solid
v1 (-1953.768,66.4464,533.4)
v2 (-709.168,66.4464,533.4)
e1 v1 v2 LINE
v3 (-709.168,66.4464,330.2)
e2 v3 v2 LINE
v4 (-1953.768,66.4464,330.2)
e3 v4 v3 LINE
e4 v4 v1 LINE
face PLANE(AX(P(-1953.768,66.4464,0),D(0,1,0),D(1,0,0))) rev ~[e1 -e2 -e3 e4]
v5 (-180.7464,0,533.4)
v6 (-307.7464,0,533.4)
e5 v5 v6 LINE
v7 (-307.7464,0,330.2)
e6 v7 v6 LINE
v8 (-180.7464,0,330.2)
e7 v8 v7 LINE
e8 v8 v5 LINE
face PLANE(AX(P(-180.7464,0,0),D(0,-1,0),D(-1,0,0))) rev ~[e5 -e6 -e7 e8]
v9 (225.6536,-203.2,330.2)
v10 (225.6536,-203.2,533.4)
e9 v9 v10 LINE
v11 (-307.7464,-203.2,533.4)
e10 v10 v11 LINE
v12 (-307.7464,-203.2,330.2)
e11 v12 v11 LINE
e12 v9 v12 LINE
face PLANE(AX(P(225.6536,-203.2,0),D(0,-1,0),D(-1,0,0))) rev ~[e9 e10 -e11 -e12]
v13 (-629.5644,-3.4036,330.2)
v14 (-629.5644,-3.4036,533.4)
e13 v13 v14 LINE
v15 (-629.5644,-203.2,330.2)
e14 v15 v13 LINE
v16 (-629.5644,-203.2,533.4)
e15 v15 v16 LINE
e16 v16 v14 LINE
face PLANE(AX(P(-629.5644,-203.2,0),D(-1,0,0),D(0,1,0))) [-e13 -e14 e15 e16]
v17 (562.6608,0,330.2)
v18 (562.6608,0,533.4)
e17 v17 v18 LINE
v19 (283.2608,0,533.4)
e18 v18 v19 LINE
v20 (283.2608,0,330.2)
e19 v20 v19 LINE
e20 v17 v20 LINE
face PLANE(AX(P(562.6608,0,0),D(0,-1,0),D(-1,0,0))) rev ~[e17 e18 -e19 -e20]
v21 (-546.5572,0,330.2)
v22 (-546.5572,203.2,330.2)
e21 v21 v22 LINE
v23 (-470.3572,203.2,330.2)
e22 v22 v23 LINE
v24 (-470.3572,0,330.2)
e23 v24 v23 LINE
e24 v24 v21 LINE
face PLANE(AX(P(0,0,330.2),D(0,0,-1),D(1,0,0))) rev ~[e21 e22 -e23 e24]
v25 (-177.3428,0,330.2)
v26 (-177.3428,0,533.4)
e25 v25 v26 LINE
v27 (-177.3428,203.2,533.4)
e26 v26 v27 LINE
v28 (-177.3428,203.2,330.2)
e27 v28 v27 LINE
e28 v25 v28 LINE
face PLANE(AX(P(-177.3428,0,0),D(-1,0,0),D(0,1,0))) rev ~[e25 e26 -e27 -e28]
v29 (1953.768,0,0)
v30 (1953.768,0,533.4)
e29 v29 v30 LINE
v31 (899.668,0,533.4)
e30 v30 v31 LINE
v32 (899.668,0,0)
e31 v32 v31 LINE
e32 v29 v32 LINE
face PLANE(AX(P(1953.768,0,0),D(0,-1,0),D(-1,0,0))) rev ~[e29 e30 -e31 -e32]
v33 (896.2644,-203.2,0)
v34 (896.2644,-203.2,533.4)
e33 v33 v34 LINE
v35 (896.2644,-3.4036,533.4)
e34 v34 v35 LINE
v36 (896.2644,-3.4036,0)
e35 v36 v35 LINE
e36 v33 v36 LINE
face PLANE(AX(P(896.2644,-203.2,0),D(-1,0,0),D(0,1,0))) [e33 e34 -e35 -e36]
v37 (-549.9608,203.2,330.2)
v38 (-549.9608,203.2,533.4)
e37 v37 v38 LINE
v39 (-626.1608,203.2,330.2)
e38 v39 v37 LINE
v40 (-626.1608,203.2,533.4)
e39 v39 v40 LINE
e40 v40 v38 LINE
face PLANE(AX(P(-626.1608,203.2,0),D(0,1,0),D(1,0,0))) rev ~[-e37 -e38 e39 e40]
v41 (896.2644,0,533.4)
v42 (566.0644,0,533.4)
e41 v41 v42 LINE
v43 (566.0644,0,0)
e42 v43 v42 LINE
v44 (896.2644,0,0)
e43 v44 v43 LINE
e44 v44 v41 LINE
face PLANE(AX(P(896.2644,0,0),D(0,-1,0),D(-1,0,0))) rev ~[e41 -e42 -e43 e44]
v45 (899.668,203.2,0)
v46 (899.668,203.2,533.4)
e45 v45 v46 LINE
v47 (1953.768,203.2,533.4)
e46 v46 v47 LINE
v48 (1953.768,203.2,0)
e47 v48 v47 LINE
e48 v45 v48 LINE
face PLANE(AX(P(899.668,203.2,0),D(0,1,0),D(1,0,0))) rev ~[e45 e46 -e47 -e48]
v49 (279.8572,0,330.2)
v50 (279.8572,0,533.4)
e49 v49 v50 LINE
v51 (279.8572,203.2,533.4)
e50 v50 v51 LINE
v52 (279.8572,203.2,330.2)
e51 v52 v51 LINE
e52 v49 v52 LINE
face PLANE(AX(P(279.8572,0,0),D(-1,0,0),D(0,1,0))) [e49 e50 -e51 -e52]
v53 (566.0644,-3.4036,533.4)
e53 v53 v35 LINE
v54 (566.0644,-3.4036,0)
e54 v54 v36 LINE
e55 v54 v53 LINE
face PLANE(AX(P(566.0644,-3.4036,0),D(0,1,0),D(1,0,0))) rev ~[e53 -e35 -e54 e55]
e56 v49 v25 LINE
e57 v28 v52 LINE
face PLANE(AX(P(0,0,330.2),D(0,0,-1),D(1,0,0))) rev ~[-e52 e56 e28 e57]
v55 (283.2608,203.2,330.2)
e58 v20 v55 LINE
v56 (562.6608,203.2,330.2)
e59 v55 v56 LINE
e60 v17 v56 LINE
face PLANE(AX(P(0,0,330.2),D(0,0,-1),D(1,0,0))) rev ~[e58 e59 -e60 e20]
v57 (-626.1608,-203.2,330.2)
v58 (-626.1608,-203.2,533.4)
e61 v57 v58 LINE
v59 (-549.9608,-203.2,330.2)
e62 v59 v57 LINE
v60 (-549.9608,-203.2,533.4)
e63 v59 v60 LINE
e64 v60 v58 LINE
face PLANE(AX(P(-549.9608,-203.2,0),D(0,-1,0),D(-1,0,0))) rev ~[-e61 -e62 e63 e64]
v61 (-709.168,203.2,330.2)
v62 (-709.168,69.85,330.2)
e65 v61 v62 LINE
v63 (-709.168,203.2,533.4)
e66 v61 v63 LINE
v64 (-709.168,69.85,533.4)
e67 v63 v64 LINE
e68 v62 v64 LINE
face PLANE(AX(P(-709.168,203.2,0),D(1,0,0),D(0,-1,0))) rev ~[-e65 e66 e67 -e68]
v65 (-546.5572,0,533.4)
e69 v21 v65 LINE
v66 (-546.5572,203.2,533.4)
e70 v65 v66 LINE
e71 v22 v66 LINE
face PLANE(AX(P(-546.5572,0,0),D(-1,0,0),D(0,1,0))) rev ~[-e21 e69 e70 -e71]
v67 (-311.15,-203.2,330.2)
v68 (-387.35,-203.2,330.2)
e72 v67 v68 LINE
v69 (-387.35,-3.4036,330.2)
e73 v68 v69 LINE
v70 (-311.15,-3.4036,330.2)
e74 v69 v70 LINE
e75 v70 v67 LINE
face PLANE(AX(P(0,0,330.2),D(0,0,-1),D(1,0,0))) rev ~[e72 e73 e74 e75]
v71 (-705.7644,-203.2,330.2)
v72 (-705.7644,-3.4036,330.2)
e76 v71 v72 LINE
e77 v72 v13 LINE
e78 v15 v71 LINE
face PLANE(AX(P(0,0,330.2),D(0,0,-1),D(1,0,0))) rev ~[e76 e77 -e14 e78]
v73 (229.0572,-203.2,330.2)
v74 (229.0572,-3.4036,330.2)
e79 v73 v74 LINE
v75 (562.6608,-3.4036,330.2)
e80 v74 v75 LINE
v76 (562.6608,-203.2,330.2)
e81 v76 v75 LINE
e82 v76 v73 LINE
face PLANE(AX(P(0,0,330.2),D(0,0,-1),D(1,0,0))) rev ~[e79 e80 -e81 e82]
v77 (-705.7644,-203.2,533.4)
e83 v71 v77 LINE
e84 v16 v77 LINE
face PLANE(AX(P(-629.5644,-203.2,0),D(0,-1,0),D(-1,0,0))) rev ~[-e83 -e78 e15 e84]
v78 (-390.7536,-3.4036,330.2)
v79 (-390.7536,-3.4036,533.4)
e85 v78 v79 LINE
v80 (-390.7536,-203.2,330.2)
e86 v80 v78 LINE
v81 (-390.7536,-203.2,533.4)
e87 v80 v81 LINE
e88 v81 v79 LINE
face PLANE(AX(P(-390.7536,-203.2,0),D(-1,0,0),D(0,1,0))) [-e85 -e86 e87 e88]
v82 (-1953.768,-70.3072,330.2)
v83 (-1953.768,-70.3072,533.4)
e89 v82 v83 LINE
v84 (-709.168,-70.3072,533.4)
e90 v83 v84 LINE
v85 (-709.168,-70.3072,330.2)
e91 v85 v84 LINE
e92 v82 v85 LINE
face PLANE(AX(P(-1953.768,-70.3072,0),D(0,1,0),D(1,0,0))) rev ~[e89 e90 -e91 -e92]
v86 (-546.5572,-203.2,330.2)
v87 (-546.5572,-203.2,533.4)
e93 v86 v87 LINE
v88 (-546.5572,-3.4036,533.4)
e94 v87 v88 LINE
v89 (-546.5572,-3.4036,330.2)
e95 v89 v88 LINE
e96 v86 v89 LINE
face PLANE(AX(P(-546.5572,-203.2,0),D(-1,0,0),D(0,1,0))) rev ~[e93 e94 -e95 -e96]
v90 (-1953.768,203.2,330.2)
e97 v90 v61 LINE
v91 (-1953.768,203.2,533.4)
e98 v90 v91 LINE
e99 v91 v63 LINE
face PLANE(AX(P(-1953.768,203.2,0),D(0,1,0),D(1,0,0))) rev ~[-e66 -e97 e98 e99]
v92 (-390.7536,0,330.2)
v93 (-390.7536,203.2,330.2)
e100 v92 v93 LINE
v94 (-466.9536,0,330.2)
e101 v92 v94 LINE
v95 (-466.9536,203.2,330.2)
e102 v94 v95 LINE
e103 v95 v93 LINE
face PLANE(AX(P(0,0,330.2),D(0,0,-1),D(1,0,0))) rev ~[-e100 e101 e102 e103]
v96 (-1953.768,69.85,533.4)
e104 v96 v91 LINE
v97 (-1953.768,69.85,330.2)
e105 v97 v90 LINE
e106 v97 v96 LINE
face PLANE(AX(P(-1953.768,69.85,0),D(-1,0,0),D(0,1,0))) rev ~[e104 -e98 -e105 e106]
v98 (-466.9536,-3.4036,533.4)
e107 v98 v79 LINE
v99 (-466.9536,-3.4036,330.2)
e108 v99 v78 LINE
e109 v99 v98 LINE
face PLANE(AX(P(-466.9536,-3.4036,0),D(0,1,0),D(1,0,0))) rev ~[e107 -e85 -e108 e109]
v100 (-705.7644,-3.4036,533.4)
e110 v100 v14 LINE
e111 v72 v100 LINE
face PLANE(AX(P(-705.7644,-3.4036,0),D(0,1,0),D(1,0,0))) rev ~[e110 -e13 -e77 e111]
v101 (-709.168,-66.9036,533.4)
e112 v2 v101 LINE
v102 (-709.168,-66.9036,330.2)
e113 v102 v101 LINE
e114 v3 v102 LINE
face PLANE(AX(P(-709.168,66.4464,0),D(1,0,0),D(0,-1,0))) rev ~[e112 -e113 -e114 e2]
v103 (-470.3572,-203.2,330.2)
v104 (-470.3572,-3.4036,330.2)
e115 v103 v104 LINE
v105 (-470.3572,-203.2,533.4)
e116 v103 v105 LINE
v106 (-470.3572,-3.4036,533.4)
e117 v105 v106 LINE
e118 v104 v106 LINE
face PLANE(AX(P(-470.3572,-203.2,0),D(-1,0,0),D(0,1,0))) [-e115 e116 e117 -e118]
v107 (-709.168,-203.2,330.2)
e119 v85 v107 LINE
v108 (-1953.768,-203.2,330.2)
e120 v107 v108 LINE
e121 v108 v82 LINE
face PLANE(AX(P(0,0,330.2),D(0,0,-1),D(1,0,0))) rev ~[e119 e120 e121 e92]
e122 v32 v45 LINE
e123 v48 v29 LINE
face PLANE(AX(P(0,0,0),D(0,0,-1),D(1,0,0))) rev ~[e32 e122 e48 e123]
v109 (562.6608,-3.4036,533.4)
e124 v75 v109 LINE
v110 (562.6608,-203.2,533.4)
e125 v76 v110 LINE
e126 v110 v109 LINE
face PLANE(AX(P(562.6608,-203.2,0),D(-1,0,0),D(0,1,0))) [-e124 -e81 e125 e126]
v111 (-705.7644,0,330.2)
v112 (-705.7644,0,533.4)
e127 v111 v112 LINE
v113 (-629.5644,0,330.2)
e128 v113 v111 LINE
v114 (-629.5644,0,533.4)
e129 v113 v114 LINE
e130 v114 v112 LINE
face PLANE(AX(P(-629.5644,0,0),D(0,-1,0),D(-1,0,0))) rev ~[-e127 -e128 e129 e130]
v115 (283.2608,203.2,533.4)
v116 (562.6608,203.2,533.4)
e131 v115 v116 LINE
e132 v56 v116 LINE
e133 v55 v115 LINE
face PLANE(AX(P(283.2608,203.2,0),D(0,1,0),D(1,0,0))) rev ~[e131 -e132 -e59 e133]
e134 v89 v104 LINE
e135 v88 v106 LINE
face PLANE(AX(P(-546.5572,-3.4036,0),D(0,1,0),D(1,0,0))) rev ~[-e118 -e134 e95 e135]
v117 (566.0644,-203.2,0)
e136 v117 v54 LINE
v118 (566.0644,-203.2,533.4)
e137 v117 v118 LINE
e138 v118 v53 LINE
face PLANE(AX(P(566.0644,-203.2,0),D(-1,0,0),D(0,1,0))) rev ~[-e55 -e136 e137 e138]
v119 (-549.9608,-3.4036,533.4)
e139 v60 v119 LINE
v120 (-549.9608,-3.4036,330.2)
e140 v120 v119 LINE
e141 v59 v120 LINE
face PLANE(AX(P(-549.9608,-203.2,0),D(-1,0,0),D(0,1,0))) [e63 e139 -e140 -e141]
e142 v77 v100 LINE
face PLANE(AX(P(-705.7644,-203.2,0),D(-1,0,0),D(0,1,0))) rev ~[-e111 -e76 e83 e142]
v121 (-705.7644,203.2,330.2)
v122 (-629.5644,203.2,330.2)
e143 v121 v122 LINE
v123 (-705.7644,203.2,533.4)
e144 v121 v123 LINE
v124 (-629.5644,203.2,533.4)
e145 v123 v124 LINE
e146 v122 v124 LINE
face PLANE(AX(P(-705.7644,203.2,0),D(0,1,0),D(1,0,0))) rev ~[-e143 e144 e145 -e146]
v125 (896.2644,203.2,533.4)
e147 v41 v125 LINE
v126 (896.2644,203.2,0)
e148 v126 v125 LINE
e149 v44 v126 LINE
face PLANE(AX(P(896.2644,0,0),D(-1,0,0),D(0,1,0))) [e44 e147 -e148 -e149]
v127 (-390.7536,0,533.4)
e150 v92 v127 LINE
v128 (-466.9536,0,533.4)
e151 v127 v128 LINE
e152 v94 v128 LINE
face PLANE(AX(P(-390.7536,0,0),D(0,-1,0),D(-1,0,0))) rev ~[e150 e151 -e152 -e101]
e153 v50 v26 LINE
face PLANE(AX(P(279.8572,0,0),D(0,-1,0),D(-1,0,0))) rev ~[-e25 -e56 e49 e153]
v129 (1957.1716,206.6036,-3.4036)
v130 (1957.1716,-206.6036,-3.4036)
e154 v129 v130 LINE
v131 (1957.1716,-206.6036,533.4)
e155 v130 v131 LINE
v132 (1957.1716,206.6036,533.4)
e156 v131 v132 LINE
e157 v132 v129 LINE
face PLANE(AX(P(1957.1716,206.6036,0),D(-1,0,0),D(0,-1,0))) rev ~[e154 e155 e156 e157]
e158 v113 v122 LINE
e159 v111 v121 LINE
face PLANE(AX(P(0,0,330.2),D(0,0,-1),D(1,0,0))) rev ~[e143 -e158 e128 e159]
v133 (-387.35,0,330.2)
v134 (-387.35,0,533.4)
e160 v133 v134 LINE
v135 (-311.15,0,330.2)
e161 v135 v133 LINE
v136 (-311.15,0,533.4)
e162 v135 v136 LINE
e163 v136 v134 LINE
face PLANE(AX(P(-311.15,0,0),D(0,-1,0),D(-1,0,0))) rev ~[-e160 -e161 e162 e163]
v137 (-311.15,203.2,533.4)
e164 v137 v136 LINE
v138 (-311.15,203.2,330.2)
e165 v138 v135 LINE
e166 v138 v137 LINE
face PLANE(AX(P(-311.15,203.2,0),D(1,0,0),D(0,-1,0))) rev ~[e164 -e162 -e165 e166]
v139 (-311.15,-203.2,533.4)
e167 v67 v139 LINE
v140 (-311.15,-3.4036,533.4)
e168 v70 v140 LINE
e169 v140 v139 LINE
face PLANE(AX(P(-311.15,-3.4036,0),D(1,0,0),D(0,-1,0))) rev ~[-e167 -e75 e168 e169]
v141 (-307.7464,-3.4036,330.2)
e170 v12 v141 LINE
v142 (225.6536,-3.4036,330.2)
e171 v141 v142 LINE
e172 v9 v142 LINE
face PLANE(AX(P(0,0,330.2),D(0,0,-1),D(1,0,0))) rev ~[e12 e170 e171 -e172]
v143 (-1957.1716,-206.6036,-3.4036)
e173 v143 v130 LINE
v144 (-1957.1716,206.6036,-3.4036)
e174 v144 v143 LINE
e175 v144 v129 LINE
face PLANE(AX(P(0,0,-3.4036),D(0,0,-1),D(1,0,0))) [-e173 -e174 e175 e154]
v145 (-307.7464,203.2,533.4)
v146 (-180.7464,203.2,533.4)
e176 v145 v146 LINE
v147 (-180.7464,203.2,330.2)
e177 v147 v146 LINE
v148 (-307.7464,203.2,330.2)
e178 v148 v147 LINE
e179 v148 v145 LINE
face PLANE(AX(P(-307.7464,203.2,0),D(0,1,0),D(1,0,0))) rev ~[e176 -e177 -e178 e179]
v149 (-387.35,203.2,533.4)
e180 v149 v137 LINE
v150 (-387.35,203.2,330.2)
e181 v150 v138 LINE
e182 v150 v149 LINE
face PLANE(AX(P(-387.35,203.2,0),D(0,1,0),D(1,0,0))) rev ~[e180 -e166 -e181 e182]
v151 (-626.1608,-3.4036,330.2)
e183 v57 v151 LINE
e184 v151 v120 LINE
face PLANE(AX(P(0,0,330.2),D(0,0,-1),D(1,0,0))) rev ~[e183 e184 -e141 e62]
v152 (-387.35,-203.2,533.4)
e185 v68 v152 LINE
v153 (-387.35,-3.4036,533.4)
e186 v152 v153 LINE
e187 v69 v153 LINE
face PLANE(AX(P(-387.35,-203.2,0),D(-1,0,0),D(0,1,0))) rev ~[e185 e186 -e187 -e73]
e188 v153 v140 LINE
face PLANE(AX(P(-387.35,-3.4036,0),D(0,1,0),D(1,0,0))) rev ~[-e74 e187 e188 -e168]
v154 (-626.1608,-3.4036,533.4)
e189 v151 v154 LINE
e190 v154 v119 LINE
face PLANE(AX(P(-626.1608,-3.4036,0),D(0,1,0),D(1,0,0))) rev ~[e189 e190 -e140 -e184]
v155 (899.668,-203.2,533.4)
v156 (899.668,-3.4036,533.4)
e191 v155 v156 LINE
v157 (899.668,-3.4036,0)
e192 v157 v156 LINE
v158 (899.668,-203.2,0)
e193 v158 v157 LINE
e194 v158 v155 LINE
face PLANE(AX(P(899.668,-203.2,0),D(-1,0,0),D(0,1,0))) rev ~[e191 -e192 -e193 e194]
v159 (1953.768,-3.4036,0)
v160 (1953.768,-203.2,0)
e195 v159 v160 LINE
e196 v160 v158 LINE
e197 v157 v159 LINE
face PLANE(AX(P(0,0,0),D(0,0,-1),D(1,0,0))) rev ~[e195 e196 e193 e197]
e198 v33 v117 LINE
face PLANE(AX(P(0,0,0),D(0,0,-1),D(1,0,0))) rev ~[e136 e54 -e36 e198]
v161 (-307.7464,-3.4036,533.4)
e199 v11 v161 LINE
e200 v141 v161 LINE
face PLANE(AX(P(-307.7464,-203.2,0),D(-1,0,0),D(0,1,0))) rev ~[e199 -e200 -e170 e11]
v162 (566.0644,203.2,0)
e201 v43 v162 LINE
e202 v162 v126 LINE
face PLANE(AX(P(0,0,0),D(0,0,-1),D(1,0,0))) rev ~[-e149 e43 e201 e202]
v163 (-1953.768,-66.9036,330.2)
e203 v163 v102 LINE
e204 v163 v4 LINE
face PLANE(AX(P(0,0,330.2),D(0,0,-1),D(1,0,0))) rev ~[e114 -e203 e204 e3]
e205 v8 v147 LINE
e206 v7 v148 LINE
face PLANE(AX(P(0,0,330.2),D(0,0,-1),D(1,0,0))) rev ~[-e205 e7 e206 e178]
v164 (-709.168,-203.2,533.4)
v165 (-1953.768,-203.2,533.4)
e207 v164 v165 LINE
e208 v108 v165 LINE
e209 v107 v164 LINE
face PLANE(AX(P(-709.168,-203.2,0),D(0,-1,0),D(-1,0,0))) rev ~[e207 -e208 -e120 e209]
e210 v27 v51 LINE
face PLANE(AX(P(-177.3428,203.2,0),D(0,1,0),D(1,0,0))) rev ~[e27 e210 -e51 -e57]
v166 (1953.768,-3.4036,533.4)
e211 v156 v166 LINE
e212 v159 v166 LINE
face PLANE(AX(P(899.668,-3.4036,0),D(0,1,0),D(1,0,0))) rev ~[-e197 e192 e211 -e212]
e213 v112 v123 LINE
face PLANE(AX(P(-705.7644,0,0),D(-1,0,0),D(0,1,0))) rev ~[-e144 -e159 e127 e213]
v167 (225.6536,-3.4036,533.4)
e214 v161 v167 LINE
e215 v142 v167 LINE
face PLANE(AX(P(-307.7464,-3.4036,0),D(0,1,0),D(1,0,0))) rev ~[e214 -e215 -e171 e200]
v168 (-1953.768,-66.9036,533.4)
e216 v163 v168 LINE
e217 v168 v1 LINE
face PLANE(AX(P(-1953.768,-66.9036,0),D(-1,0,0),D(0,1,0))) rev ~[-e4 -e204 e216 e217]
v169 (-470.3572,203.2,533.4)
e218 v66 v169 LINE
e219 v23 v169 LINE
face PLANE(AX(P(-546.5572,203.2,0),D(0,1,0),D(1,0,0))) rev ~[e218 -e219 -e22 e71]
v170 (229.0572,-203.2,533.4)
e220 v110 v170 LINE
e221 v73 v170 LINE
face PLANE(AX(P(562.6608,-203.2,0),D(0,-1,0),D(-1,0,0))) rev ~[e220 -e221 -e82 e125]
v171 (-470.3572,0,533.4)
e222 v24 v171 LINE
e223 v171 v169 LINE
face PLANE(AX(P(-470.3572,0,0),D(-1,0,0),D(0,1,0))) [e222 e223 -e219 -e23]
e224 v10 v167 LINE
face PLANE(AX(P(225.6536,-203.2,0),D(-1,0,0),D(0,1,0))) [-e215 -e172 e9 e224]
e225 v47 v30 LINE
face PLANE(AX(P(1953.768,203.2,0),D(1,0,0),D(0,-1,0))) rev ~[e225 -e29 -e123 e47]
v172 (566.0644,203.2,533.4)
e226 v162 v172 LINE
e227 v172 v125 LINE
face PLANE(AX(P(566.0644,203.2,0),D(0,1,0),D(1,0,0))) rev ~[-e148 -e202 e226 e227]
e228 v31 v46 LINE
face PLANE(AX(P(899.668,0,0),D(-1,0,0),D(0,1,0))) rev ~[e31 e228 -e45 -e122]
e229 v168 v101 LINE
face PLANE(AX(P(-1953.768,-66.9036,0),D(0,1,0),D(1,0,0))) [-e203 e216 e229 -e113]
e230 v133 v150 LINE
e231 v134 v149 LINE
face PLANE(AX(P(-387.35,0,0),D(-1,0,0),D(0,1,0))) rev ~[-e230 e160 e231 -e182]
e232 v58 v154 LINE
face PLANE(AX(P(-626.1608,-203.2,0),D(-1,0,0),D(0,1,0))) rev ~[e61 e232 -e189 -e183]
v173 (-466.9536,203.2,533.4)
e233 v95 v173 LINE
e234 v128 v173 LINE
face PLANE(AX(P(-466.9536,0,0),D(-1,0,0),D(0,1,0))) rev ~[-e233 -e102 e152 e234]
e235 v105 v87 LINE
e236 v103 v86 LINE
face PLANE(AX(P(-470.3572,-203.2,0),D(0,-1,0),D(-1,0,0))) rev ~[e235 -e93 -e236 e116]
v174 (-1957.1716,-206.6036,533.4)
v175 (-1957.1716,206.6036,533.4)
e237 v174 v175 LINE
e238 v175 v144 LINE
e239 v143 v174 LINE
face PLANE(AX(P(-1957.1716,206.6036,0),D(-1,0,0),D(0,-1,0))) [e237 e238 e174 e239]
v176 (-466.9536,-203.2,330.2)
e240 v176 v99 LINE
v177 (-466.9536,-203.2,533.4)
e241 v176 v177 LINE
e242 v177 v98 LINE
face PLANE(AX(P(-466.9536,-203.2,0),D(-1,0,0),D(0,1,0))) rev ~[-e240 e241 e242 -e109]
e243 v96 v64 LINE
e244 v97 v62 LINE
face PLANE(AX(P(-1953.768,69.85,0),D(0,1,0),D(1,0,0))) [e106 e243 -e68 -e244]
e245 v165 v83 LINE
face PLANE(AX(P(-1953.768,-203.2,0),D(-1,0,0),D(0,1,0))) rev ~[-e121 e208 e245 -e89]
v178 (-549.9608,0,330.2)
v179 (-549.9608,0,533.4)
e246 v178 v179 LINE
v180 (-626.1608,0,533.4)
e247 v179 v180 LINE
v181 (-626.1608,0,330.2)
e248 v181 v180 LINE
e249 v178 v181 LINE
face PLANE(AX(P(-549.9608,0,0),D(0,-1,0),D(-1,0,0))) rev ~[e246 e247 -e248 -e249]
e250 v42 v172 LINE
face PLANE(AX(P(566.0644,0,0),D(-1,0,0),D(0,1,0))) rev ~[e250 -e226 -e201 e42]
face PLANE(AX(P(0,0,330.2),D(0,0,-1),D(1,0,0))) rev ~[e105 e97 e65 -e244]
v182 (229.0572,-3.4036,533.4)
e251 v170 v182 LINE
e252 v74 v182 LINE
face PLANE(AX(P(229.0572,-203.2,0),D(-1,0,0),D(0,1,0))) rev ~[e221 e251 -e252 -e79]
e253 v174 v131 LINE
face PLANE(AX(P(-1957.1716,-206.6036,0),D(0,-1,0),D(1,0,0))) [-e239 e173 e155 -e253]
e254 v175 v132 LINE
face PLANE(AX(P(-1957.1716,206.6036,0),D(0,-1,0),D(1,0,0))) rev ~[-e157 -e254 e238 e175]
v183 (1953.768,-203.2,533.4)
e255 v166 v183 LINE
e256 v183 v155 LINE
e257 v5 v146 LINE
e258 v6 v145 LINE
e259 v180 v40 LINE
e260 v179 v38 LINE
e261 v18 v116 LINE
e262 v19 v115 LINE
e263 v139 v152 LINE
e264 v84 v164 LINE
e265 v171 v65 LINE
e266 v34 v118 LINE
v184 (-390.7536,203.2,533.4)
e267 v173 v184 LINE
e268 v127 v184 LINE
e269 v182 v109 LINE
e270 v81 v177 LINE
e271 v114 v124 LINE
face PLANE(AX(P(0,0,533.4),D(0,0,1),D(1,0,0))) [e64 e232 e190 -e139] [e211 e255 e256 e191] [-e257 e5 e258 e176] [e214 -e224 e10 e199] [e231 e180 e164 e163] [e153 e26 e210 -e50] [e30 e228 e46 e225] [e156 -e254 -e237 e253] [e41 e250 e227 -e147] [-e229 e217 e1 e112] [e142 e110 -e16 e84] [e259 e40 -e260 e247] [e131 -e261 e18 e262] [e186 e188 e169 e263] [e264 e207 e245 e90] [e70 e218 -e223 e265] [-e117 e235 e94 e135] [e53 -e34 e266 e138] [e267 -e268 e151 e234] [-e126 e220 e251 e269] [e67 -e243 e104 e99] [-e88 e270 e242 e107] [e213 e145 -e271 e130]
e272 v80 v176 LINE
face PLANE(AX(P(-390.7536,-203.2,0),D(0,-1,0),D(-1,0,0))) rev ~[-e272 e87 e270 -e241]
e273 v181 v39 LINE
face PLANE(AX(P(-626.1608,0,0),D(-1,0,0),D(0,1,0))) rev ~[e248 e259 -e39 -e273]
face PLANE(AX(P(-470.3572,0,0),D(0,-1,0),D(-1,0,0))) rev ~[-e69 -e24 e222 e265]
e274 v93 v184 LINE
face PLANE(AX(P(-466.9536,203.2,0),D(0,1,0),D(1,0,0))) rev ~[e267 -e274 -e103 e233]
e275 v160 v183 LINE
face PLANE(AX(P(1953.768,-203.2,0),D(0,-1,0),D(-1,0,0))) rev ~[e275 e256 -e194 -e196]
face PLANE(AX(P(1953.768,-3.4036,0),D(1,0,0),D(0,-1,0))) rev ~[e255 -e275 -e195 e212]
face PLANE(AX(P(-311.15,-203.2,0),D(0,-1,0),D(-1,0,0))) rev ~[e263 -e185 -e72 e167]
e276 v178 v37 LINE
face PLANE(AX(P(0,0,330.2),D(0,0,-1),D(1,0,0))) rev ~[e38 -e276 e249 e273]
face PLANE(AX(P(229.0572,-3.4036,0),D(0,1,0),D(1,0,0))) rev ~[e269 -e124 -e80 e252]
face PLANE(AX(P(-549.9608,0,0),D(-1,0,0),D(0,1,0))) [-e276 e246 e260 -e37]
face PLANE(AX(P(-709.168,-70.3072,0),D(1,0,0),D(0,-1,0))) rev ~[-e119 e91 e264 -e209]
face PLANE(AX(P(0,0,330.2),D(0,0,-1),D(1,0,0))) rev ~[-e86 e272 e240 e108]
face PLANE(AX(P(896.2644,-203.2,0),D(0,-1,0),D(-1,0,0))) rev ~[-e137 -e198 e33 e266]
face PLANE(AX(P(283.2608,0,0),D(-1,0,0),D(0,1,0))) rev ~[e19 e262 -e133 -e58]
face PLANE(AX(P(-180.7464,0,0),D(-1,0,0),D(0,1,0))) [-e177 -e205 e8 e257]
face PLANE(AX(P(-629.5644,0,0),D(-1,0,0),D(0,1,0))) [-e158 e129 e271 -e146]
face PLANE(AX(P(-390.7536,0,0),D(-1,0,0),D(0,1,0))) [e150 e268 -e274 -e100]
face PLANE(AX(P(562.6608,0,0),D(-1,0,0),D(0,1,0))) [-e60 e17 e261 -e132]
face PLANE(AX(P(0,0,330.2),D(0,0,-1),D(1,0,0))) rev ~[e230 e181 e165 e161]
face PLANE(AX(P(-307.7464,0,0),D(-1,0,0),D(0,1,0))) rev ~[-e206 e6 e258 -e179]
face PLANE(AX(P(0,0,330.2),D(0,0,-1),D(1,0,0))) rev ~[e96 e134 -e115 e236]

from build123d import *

# Parameters (mm, degrees)
F0_W     = 3914.3432
F0_H     = 413.2072
F0_W_2   = 1244.6
F0_H_2   = 3.4036
F0_W_3   = 3.4036
F0_H_3   = 203.2
F0_H_4   = 199.7964
F1_DEPTH = 533.4
F2_W     = 3914.3432
F2_H     = 413.2072
F3_DEPTH = 3.4036
F4_DEPTH = 330.2


with BuildPart() as f1:
    # F0 (on Top) → F1 (new body)
    with BuildSketch(Plane.XY):
        Rectangle(F0_W, F0_H)
        Polygon((-1953.768, 69.85), (-1953.768, 203.2), (-709.168, 203.2), (-705.7644, 203.2), (-629.5644, 203.2), (-626.1608, 203.2), (-549.9608, 203.2), (-546.5572, 203.2), (-470.3572, 203.2), (-466.9536, 203.2), (-390.7536, 203.2), (-387.35, 203.2), (-311.15, 203.2), (-307.7464, 203.2), (-180.7464, 203.2), (-177.3428, 203.2), (279.8572, 203.2), (283.2608, 203.2), (562.6608, 203.2), (566.0644, 203.2), (896.2644, 203.2), (899.668, 203.2), (1953.768, 203.2), (1953.768, 0), (1953.768, -3.4036), (1953.768, -203.2), (899.668, -203.2), (896.2644, -203.2), (566.0644, -203.2), (562.6608, -203.2), (229.0572, -203.2), (225.6536, -203.2), (-307.7464, -203.2), (-311.15, -203.2), (-387.35, -203.2), (-390.7536, -203.2), (-466.9536, -203.2), (-470.3572, -203.2), (-546.5572, -203.2), (-549.9608, -203.2), (-626.1608, -203.2), (-629.5644, -203.2), (-705.7644, -203.2), (-709.168, -203.2), (-1953.768, -203.2), (-1953.768, -70.3072), (-1953.768, -66.9036), (-1953.768, 66.4464), align=None, mode=Mode.SUBTRACT)
        with Locations((-1331.468, 68.1482)):
            Rectangle(F0_W_2, F0_H_2)
        with Locations((-1331.468, -68.6054)):
            Rectangle(F0_W_2, F0_H_2)
        Polygon((-705.7644, 203.2), (-709.168, 203.2), (-709.168, 69.85), (-709.168, 66.4464), (-709.168, -66.9036), (-709.168, -70.3072), (-709.168, -203.2), (-705.7644, -203.2), (-705.7644, -3.4036), (-705.7644, 0), align=None)
        Polygon((-629.5644, 0), (-705.7644, 0), (-705.7644, -3.4036), (-629.5644, -3.4036), (-626.1608, -3.4036), (-549.9608, -3.4036), (-546.5572, -3.4036), (-470.3572, -3.4036), (-466.9536, -3.4036), (-390.7536, -3.4036), (-387.35, -3.4036), (-311.15, -3.4036), (-311.15, 0), (-387.35, 0), (-390.7536, 0), (-466.9536, 0), (-470.3572, 0), (-546.5572, 0), (-549.9608, 0), (-626.1608, 0), align=None)
        with Locations((-627.8626, 101.6)):
            Rectangle(F0_W_3, F0_H_3)
        with Locations((-627.8626, -103.3018)):
            Rectangle(F0_W_3, F0_H_4)
        with Locations((-548.259, -103.3018)):
            Rectangle(F0_W_3, F0_H_4)
        with Locations((-548.259, 101.6)):
            Rectangle(F0_W_3, F0_H_3)
        with Locations((-468.6554, 101.6)):
            Rectangle(F0_W_3, F0_H_3)
        with Locations((-468.6554, -103.3018)):
            Rectangle(F0_W_3, F0_H_4)
        with Locations((-389.0518, -103.3018)):
            Rectangle(F0_W_3, F0_H_4)
        with Locations((-389.0518, 101.6)):
            Rectangle(F0_W_3, F0_H_3)
        Polygon((-307.7464, 203.2), (-311.15, 203.2), (-311.15, 0), (-311.15, -3.4036), (-311.15, -203.2), (-307.7464, -203.2), (-307.7464, -3.4036), (-307.7464, 0), align=None)
        Polygon((-180.7464, 0), (-307.7464, 0), (-307.7464, -3.4036), (225.6536, -3.4036), (229.0572, -3.4036), (562.6608, -3.4036), (566.0644, -3.4036), (896.2644, -3.4036), (899.668, -3.4036), (1953.768, -3.4036), (1953.768, 0), (899.668, 0), (896.2644, 0), (566.0644, 0), (562.6608, 0), (283.2608, 0), (279.8572, 0), (-177.3428, 0), align=None)
        with Locations((-179.0446, 101.6)):
            Rectangle(F0_W_3, F0_H_3)
        with Locations((281.559, 101.6)):
            Rectangle(F0_W_3, F0_H_3)
        with Locations((227.3554, -103.3018)):
            Rectangle(F0_W_3, F0_H_4)
        with Locations((564.3626, -103.3018)):
            Rectangle(F0_W_3, F0_H_4)
        with Locations((564.3626, 101.6)):
            Rectangle(F0_W_3, F0_H_3)
        with Locations((897.9662, 101.6)):
            Rectangle(F0_W_3, F0_H_3)
        with Locations((897.9662, -103.3018)):
            Rectangle(F0_W_3, F0_H_4)
    extrude(amount=F1_DEPTH)

    # F2 (on face) → F3 (join)
    with BuildSketch(Plane(origin=(0, 0, 0), x_dir=(1, 0, 0), z_dir=(0, 0, -1))):
        Rectangle(F2_W, F2_H)
    extrude(amount=F3_DEPTH)

    # F4 (add): faces of the model
    f4_faces = [f1.faces().sort_by_distance(p)[0] for p in [
        (-1331.468, 136.525, 0),
        (-1331.468, -0.2286, 0),
        (-1331.468, -136.7536, 0),
        (-667.6644, 101.6, 0),
        (-588.0608, 101.6, 0),
        (-508.4572, 101.6, 0),
        (-428.8536, 101.6, 0),
        (-349.25, 101.6, 0),
        (-349.25, -103.3018, 0),
        (-428.8536, -103.3018, 0),
        (-508.4572, -103.3018, 0),
        (-588.0608, -103.3018, 0),
        (-667.6644, -103.3018, 0),
        (-41.0464, -103.3018, 0),
        (-244.2464, 101.6, 0),
        (51.2572, 101.6, 0),
        (422.9608, 101.6, 0),
        (395.859, -103.3018, 0),
    ]]
    extrude(f4_faces, amount=F4_DEPTH)


solid = f1.part
